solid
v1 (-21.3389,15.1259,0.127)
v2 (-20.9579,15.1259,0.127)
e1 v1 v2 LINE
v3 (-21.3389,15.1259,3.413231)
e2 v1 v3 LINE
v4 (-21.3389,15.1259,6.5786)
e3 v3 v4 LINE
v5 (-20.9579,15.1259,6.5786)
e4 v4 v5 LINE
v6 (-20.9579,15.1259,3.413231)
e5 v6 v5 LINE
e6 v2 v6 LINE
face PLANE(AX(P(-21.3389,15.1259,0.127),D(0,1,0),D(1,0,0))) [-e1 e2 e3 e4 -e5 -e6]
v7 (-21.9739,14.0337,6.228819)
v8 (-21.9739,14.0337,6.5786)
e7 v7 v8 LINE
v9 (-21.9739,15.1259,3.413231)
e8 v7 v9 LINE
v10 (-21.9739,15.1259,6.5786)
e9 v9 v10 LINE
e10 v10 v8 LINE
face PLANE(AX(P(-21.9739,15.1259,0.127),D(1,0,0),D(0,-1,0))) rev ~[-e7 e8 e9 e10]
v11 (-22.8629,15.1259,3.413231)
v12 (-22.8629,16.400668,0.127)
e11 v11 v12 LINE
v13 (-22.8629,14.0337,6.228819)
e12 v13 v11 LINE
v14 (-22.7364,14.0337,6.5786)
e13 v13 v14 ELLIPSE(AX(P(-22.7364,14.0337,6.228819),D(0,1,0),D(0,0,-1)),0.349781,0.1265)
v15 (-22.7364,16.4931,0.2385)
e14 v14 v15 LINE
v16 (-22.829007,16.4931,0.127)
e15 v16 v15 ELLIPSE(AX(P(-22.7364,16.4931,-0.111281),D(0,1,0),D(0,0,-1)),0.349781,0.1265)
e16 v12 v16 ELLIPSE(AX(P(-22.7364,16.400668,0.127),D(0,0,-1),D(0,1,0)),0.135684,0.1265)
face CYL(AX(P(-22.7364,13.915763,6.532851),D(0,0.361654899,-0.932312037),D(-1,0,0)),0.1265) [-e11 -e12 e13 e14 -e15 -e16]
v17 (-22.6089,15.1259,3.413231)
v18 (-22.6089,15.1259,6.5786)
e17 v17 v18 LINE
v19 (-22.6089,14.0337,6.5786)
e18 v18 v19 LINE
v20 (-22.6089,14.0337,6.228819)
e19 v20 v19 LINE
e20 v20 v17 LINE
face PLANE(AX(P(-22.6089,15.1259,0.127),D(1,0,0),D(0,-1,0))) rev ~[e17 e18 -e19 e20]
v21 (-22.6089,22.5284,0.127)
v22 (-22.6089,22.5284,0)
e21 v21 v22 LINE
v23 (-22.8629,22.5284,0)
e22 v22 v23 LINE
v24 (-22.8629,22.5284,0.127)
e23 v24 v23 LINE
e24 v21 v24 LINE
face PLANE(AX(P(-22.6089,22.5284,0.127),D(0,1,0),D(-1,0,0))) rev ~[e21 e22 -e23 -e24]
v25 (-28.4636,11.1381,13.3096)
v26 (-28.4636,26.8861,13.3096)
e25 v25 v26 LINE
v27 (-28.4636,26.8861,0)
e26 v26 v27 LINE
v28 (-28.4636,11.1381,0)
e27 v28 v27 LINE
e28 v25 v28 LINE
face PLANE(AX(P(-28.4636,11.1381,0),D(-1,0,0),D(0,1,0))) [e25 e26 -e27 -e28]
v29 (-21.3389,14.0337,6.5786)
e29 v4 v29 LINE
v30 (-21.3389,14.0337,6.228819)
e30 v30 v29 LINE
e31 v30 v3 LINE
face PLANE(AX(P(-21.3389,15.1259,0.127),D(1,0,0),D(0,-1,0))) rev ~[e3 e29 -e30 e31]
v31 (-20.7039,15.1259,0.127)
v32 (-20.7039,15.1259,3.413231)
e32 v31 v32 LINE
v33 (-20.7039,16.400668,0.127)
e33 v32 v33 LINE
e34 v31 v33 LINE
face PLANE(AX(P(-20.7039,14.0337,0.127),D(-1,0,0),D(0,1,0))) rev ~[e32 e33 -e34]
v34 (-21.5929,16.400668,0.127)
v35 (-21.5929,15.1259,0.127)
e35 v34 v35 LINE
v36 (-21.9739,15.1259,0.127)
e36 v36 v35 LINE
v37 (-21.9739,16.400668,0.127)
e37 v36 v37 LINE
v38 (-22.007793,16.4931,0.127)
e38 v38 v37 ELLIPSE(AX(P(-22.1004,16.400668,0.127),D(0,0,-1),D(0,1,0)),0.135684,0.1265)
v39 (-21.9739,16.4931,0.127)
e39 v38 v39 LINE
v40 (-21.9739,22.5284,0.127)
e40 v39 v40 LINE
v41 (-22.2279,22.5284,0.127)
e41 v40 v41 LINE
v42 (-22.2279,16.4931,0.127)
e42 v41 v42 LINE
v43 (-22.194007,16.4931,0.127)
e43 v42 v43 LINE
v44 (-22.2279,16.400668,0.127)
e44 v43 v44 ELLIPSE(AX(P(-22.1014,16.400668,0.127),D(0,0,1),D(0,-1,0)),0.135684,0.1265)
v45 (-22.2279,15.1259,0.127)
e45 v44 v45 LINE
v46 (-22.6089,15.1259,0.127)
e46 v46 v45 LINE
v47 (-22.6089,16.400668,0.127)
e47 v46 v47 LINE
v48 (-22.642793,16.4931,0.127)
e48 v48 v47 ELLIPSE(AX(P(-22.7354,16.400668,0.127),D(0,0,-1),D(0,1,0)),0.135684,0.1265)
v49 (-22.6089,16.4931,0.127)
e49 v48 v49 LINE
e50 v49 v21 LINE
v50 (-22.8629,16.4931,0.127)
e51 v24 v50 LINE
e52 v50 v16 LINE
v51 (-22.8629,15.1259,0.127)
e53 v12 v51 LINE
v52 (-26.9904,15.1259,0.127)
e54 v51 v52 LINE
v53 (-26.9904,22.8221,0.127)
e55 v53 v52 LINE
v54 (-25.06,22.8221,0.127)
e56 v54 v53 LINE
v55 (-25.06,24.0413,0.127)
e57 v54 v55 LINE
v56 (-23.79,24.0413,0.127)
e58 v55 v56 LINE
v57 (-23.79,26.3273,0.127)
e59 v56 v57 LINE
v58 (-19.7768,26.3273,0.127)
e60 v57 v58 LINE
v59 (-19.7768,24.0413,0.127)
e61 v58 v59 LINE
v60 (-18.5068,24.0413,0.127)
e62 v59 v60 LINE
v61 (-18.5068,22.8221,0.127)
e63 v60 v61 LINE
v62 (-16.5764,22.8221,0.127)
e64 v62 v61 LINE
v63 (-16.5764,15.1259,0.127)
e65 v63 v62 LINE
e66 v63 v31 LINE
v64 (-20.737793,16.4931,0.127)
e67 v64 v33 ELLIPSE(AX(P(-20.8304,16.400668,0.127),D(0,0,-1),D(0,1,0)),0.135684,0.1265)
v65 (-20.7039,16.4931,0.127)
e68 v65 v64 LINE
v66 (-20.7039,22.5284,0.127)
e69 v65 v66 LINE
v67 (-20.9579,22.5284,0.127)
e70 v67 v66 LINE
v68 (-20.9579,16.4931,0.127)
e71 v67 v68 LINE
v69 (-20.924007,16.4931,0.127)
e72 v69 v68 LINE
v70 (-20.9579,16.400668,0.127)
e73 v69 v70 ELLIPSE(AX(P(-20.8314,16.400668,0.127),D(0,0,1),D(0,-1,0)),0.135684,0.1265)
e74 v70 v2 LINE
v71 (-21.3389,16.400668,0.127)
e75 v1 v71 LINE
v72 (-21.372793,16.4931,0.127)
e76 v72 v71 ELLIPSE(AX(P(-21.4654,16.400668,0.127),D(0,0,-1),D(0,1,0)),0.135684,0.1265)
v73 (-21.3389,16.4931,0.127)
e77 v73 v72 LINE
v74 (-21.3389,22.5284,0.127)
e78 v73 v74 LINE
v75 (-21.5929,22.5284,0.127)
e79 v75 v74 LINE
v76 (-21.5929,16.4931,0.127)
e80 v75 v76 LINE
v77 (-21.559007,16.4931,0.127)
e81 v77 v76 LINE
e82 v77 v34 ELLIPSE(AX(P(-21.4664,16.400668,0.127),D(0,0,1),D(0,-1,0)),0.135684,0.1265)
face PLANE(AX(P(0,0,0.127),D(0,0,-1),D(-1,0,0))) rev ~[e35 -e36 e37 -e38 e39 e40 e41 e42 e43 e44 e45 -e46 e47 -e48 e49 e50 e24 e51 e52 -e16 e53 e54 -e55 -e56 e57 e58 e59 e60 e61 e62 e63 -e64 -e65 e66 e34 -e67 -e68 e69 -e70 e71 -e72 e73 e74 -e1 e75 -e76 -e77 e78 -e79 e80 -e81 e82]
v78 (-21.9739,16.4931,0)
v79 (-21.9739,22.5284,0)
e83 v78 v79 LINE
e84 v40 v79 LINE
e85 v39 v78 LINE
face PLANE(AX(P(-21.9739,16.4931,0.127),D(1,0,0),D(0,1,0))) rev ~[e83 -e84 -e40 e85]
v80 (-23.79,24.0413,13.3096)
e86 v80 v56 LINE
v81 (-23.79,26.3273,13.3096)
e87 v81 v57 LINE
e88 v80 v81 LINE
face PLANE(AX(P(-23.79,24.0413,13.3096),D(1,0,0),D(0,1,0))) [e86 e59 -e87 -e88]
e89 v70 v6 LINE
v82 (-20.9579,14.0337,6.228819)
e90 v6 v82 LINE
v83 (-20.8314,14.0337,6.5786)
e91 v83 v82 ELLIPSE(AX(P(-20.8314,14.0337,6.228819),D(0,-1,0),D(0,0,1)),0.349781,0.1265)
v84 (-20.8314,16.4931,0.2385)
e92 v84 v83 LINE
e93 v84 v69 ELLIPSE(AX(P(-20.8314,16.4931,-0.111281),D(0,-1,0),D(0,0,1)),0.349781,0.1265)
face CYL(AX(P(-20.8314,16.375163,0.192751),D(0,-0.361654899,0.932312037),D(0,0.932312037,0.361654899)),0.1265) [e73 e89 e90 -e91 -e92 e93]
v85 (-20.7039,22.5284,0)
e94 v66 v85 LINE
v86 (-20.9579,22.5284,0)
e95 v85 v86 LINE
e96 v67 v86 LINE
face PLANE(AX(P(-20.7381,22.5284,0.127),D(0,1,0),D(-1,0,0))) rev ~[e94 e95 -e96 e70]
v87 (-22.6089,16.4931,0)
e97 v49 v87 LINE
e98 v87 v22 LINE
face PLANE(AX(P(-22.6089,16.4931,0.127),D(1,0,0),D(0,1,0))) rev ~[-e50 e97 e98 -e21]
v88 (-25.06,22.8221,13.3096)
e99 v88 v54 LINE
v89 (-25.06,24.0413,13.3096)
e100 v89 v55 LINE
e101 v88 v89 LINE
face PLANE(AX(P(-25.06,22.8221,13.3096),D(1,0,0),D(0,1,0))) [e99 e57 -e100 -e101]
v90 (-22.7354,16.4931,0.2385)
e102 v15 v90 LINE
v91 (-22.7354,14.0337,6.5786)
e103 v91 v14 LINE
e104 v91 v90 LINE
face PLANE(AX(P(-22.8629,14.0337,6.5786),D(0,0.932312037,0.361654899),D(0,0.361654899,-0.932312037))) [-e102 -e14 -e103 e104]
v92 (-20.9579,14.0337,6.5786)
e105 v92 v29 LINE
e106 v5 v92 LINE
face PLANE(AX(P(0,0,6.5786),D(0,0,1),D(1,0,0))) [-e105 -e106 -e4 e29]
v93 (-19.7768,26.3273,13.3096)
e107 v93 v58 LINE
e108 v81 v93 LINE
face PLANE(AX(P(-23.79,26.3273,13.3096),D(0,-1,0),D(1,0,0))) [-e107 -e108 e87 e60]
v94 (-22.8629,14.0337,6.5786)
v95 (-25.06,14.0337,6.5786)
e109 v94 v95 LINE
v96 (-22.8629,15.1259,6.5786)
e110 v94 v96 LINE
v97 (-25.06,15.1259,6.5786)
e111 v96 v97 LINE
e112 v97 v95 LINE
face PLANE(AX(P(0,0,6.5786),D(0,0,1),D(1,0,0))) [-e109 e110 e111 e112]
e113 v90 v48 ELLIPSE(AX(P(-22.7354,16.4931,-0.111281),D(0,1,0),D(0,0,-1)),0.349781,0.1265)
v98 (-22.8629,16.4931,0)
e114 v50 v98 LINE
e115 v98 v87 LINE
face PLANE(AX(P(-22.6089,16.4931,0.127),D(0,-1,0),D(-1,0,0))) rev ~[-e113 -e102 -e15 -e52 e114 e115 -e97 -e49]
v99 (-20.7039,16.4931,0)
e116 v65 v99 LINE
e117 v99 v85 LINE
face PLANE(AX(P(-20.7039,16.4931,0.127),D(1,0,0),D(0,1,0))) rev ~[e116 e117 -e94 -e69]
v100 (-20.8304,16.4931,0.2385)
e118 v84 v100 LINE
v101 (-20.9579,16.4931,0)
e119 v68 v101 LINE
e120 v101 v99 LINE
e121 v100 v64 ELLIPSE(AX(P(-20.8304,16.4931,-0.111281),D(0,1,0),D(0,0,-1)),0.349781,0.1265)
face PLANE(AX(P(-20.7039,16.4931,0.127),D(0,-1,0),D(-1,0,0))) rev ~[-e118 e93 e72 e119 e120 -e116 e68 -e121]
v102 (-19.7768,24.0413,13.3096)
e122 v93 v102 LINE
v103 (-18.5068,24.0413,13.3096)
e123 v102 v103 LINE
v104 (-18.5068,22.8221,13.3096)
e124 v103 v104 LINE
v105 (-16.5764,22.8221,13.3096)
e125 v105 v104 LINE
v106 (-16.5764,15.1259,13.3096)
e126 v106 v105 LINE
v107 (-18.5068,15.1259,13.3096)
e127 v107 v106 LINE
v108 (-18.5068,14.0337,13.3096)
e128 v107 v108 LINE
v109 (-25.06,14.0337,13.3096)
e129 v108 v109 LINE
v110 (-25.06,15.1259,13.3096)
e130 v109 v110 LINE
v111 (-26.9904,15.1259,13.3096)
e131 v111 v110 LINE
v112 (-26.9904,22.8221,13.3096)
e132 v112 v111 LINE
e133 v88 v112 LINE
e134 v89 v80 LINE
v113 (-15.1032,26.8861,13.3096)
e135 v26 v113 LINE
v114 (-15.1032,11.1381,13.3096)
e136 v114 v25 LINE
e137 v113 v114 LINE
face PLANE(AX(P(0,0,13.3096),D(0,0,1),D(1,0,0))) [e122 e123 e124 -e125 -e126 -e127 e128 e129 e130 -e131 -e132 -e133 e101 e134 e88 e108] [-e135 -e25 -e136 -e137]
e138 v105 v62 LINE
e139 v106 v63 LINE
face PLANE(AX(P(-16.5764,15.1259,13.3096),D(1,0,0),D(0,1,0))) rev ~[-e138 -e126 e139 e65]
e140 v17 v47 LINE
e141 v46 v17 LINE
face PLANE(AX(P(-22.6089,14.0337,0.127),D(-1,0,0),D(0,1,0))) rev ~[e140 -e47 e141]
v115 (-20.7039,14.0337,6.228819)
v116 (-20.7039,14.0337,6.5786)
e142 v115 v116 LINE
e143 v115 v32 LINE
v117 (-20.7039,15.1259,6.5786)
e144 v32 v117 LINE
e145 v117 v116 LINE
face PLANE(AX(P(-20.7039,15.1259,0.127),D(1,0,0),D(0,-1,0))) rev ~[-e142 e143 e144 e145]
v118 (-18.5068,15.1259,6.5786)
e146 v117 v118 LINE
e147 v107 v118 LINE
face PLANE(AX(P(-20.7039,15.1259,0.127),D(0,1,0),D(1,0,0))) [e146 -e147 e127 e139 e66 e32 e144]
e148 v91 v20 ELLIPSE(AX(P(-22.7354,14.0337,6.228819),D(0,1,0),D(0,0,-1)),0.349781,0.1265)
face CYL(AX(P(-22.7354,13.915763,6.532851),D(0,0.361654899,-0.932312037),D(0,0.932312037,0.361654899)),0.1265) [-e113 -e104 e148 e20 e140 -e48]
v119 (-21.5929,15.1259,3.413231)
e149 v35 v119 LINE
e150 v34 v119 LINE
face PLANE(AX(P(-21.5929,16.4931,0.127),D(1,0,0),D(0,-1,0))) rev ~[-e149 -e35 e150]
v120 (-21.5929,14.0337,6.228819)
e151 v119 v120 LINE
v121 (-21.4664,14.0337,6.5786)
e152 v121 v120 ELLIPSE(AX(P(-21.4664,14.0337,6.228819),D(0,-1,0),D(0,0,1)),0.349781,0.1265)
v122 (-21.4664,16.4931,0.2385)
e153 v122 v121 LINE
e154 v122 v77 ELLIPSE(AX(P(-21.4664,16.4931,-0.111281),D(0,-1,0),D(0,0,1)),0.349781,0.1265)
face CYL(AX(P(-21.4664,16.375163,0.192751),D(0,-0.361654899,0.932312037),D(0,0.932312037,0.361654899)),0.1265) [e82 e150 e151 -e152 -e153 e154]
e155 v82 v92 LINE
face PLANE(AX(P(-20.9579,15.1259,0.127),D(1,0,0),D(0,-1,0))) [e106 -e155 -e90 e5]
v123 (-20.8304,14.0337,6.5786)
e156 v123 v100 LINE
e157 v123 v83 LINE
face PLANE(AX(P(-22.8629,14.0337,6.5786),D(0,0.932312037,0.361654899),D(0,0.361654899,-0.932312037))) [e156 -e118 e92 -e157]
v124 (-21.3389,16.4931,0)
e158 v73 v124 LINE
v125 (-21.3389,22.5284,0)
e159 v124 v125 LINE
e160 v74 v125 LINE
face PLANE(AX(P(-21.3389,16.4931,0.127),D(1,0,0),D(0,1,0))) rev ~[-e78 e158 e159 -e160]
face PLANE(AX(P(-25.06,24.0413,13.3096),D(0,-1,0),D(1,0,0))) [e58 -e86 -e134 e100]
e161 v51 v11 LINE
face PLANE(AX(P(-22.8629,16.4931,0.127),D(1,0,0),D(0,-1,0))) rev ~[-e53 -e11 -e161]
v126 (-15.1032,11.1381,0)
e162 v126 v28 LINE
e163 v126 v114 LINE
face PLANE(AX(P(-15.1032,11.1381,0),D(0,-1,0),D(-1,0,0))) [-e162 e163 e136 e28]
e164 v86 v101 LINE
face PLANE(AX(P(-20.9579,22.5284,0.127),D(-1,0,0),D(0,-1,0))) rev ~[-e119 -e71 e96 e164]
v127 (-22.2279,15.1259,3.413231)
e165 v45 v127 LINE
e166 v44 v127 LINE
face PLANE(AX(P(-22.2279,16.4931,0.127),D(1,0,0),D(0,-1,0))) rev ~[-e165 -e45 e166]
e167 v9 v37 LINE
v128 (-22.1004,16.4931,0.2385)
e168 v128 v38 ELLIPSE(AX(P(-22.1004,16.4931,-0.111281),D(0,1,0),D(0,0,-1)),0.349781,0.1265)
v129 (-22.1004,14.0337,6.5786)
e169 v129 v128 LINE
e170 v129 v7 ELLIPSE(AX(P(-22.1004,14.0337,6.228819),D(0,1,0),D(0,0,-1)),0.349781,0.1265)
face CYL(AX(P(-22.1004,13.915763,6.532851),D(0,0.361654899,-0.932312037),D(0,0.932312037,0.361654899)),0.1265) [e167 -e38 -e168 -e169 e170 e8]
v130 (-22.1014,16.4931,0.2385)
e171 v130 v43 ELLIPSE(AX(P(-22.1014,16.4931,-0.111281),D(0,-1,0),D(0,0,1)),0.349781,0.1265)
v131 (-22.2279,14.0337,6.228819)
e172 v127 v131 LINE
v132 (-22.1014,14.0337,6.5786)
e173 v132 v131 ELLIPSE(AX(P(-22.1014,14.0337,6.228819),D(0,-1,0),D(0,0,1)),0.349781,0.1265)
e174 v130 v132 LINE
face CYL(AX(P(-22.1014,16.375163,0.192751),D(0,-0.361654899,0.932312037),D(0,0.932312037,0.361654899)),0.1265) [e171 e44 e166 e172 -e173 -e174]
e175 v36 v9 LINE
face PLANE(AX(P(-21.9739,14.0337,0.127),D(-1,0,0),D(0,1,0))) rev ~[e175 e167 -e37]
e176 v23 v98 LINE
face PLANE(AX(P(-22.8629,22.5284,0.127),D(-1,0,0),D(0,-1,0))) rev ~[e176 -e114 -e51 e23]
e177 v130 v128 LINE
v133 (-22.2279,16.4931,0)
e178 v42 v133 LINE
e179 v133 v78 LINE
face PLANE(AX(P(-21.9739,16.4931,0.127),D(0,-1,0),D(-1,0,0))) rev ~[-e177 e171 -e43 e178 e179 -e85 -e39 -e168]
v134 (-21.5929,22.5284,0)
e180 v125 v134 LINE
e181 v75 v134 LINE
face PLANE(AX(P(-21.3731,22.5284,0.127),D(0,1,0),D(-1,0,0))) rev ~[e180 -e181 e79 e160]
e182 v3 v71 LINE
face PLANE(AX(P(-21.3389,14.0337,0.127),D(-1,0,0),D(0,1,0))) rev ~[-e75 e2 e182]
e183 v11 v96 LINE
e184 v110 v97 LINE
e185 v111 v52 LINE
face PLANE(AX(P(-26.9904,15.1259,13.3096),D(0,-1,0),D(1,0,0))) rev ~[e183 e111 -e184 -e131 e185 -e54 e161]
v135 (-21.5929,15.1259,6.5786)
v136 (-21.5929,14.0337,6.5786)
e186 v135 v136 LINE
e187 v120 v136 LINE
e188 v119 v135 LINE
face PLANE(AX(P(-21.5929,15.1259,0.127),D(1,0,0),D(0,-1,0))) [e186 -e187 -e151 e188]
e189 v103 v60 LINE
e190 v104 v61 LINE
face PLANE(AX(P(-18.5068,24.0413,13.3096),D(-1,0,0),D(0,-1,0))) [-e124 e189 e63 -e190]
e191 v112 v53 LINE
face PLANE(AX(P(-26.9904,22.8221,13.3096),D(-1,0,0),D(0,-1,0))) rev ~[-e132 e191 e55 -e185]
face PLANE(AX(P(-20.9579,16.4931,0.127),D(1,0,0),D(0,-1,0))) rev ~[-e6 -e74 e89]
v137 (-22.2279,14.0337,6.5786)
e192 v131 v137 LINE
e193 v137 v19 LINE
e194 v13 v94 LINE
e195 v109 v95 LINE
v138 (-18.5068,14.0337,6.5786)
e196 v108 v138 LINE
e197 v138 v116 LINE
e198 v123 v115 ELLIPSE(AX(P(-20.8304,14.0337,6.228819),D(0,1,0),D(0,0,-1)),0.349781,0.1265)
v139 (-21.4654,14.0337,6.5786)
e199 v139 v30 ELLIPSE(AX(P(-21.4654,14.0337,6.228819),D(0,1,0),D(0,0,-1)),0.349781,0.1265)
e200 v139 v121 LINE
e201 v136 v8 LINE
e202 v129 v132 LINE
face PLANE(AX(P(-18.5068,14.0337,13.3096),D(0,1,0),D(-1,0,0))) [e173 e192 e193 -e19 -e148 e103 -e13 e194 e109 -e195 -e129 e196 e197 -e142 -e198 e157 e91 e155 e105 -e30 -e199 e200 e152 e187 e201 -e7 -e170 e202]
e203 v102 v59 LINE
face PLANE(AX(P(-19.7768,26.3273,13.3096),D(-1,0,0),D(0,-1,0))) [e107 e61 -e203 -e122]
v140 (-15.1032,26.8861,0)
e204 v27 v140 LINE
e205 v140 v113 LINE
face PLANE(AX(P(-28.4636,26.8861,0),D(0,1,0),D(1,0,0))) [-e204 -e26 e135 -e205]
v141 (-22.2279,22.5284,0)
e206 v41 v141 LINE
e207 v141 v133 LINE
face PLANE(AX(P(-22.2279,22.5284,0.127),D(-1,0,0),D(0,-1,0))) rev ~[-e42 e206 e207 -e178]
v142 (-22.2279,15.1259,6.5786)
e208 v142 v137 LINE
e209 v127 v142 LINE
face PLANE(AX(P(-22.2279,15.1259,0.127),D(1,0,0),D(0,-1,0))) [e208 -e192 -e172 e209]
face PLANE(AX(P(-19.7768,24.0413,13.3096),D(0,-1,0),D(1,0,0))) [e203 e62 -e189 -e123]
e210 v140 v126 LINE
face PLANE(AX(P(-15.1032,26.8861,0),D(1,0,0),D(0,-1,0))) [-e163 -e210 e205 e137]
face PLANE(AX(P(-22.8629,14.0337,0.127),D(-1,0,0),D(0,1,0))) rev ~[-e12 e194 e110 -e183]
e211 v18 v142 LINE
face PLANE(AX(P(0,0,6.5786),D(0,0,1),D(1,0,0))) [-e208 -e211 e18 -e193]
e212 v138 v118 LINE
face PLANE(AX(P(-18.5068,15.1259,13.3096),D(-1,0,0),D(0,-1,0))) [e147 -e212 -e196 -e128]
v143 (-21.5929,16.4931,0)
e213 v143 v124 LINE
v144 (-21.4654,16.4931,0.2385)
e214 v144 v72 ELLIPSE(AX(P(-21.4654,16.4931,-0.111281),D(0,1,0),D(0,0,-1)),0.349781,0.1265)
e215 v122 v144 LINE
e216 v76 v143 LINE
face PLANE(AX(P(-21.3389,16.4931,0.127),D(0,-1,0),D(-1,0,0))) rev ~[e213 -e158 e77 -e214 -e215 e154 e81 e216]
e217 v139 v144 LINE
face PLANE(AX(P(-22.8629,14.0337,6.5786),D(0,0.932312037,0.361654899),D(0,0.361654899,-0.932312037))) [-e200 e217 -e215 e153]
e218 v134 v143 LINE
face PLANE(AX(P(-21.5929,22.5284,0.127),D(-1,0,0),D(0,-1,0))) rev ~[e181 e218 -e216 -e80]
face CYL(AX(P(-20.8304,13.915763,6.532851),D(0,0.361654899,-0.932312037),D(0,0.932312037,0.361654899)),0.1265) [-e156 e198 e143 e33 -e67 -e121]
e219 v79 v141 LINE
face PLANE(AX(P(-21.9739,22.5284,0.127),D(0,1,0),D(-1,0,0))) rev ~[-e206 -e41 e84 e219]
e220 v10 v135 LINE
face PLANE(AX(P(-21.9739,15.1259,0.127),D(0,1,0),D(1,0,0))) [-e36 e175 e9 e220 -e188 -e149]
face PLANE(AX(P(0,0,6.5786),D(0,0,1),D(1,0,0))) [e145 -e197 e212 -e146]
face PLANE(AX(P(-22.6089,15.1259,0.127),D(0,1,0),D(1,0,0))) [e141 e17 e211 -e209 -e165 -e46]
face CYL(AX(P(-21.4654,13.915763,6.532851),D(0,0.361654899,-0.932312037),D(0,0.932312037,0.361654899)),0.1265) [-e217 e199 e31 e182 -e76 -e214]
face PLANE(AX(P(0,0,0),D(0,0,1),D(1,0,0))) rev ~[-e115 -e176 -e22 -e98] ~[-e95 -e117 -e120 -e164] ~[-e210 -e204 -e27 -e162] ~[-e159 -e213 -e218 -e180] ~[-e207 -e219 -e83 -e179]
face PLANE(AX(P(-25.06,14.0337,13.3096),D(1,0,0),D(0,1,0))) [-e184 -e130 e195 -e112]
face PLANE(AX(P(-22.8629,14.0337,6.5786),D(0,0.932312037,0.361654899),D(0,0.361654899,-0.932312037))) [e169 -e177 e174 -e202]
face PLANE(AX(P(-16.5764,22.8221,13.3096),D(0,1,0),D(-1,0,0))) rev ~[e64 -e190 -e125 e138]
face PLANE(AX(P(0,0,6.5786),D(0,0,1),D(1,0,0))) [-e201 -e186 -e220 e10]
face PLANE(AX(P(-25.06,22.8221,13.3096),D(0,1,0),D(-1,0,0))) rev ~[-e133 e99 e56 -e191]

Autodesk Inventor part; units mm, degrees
ref_plane "YZ Plane" through (0, 0, 0) normal (1, 0, 0) x (0, 1, 0)
ref_plane "XZ Plane" through (0, 0, 0) normal (0, 1, 0) x (-1, 0, 0)
ref_plane "XY Plane" through (0, 0, 0) normal (0, 0, 1) x (1, 0, 0)
sketch "Sketch1" plane through (0, 0, 0) normal (0, 0, 1) x (1, 0, 0)
  line L0 (-15.1032, 11.1381) -> (-28.4636, 11.1381)
  line L1 (-28.4636, 11.1381) -> (-28.4636, 26.8861)
  line L2 (-28.4636, 26.8861) -> (-15.1032, 26.8861)
  line L3 (-15.1032, 26.8861) -> (-15.1032, 11.1381)
  dimension "d0" = 13.3604
  dimension "d1" = 15.748
extrude "Extrusion1" add sketch "Sketch1" along normal blind 13.3096
sketch "Sketch2" plane through (0, 0, 13.3096) normal (0, 0, 1) x (1, 0, 0)
  line L0 (-28.4636, 11.1381) -> (-28.4636, 26.8861) projected
  line L1 (-15.1032, 11.1381) -> (-28.4636, 11.1381) projected
  line L2 (-15.1032, 26.8861) -> (-15.1032, 11.1381) projected
  line L3 (-28.4636, 26.8861) -> (-15.1032, 26.8861) projected
  line L4 (-23.79, 26.3273) -> (-19.7768, 26.3273)
  line L5 (-19.7768, 26.3273) -> (-19.7768, 24.0413)
  line L6 (-19.7768, 24.0413) -> (-23.79, 24.0413)
  line L7 (-23.79, 24.0413) -> (-23.79, 26.3273)
  line L8 (-25.06, 24.0413) -> (-18.5068, 24.0413)
  line L9 (-18.5068, 24.0413) -> (-18.5068, 22.8221)
  line L10 (-18.5068, 22.8221) -> (-25.06, 22.8221)
  line L11 (-25.06, 22.8221) -> (-25.06, 24.0413)
  line L12 (-16.5764, 22.8221) -> (-26.9904, 22.8221)
  line L13 (-26.9904, 22.8221) -> (-26.9904, 15.1259)
  line L14 (-26.9904, 15.1259) -> (-16.5764, 15.1259)
  line L15 (-16.5764, 15.1259) -> (-16.5764, 22.8221)
  line L16 (-25.06, 15.1259) -> (-18.5068, 15.1259)
  line L17 (-18.5068, 15.1259) -> (-18.5068, 14.0337)
  line L18 (-18.5068, 14.0337) -> (-25.06, 14.0337)
  line L19 (-25.06, 14.0337) -> (-25.06, 15.1259)
  dimension "d4" = 0.5588
  dimension "d5" = 4.6736
  dimension "d6" = 4.6736
  dimension "d7" = 2.286
  dimension "d9" = 1.27
  dimension "d10" = 1.27
  dimension "d11" = 1.2192
  dimension "d13" = 6.5532
  dimension "d14" = 1.9304
  dimension "d15" = 1.9304
  dimension "d16" = 10.414
  dimension "d17" = 7.6962
  dimension "d18" = 1.9304
  dimension "d19" = 1.9304
  dimension "d20" = 1.0922
  dimension "d21" = 2.8956
extrude "Extrusion2" cut sketch "Sketch2" against normal blind 14.1478 contours L4 L5 L6 L7 | L6 L8 L9 L10 L11 | L10 L12 L15 L14 L13 | L14 L17 L18 L19
sketch "Sketch3" plane through (0, 0, 0) normal (0, 0, -1) x (-1, 0, 0)
  line L0 (15.1032, 11.1381) -> (28.4636, 11.1381) projected
  line L1 (28.4636, 11.1381) -> (28.4636, 26.8861) projected
  line L2 (28.4636, 26.8861) -> (15.1032, 26.8861) projected
  line L3 (15.1032, 26.8861) -> (15.1032, 11.1381) projected
extrude "Extrusion3" add sketch "Sketch3" against normal blind 0.127
sketch "Sketch4" plane through (0, 0, 0.127) normal (0, 0, 1) x (1, 0, 0)
  line L0 (-25.06, 14.0337) -> (-25.06, 15.1259) projected
  line L1 (-18.5068, 14.0337) -> (-25.06, 14.0337) projected
  line L2 (-18.5068, 15.1259) -> (-18.5068, 14.0337) projected
  line L3 (-22.8629, 14.0337) -> (-22.6089, 14.0337)
  line L4 (-22.6089, 14.0337) -> (-22.6089, 16.4931)
  line L5 (-22.6089, 16.4931) -> (-22.8629, 16.4931)
  line L6 (-22.8629, 16.4931) -> (-22.8629, 14.0337)
  line L7 (-22.2279, 14.0337) -> (-21.9739, 14.0337)
  line L8 (-21.9739, 14.0337) -> (-21.9739, 16.4931)
  line L9 (-21.9739, 16.4931) -> (-22.2279, 16.4931)
  line L10 (-22.2279, 16.4931) -> (-22.2279, 14.0337)
  line L11 (-21.5929, 14.0337) -> (-21.3389, 14.0337)
  line L12 (-21.3389, 14.0337) -> (-21.3389, 16.4931)
  line L13 (-21.3389, 16.4931) -> (-21.5929, 16.4931)
  line L14 (-21.5929, 16.4931) -> (-21.5929, 14.0337)
  line L15 (-20.9579, 14.0337) -> (-20.7039, 14.0337)
  line L16 (-20.7039, 14.0337) -> (-20.7039, 16.4931)
  line L17 (-20.7039, 16.4931) -> (-20.9579, 16.4931)
  line L18 (-20.9579, 16.4931) -> (-20.9579, 14.0337)
  dimension "d26" = 0.254
  dimension "d27" = 0.254
  dimension "d28" = 0.254
  dimension "d29" = 0.254
  dimension "d30" = 0.381
  dimension "d31" = 0.381
  dimension "d32" = 0.381
  dimension "d33" = 2.1971
  dimension "d34" = 2.1971
extrude "Extrusion4" add sketch "Sketch4" along normal blind 6.4516
sketch "Sketch5" plane through (-22.8629, 14.0337, 0.127) normal (-1, 0, 0) x (0, 0, 1)
  line L0 (6.4516, 0) -> (6.4516, 2.4594) projected
  line L1 (0, 2.4594) -> (6.4516, 2.4594) projected
  line L2 (6.4516, 0) -> (0.1115, 2.4594)
extrude "Extrusion5" cut sketch "Sketch5" against normal blind 3.81
fillet "Fillet1" radius 0.127 8 edges at (-22.8629, 15.2634, 3.4085) (-22.6089, 15.2634, 3.4085) (-21.9739, 15.2634, 3.4085) (-22.2279, 15.2634, 3.4085) (-21.5929, 15.2634, 3.4085) (-21.3389, 15.2634, 3.4085) (-20.9579, 15.2634, 3.4085) (-20.7039, 15.2634, 3.4085)
sketch "Sketch6" plane through (0, 0, 0.127) normal (0, 0, 1) x (1, 0, 0)
  line L0 (-22.6089, 16.4001) -> (-22.6089, 14.0337) projected
  line L1 (-21.9739, 16.4001) -> (-21.9739, 14.0337) projected
  line L2 (-21.3389, 16.4001) -> (-21.3389, 14.0337) projected
  line L3 (-20.7039, 16.4001) -> (-20.7039, 14.0337) projected
  line L4 (-18.5068, 14.0337) -> (-20.7039, 14.0337) projected
  line L5 (-22.8629, 14.0337) -> (-25.06, 14.0337) projected
  line L6 (-22.8629, 14.0337) -> (-22.8629, 16.4001) projected
  line L7 (-25.0727, 14.0337) -> (-22.8629, 14.0337)
  line L8 (-22.8629, 14.0337) -> (-22.8629, 15.1259)
  line L9 (-22.8629, 15.1259) -> (-25.0727, 15.1259)
  line L10 (-25.0727, 15.1259) -> (-25.0727, 14.0337)
  line L11 (-22.6089, 15.1259) -> (-22.2279, 15.1259)
  line L12 (-22.2279, 15.1259) -> (-22.2279, 14.0337)
  line L13 (-22.2279, 14.0337) -> (-22.6089, 14.0337)
  line L14 (-22.6089, 14.0337) -> (-22.6089, 15.1259)
  line L15 (-21.9739, 15.1259) -> (-21.5929, 15.1259)
  line L16 (-21.5929, 15.1259) -> (-21.5929, 14.0337)
  line L17 (-21.5929, 14.0337) -> (-21.9739, 14.0337)
  line L18 (-21.9739, 14.0337) -> (-21.9739, 15.1259)
  line L19 (-21.3389, 15.1259) -> (-20.9579, 15.1259)
  line L20 (-20.9579, 15.1259) -> (-20.9579, 14.0337)
  line L21 (-20.9579, 14.0337) -> (-21.3389, 14.0337)
  line L22 (-21.3389, 14.0337) -> (-21.3389, 15.1259)
  line L23 (-20.7039, 15.1259) -> (-18.4941, 15.1259)
  line L24 (-18.4941, 15.1259) -> (-18.4941, 14.0337)
  line L25 (-18.4941, 14.0337) -> (-20.7039, 14.0337)
  line L26 (-20.7039, 14.0337) -> (-20.7039, 15.1259)
  line L27 (-22.8629, 14.0337) -> (-25.0727, 14.0337)
  line L28 (-25.0727, 14.0337) -> (-25.0727, 15.1259)
  line L29 (-25.0727, 15.1259) -> (-22.8629, 15.1259)
  line L30 (-22.8629, 15.1259) -> (-22.8629, 14.0337)
  line L31 (-20.7039, 15.1259) -> (-18.4941, 15.1259)
  line L32 (-18.4941, 15.1259) -> (-18.4941, 14.0337)
  line L33 (-18.4941, 14.0337) -> (-20.7039, 14.0337)
  line L34 (-20.7039, 14.0337) -> (-20.7039, 15.1259)
  point P0 (-25.06, 15.1259)
  dimension "d40" = 1.0922
  dimension "d41" = 1.0922
  dimension "d42" = 0
  dimension "d43" = 0
  dimension "d44" = 0
  dimension "d45" = 0
  dimension "d46" = 2.2098
  dimension "d47" = 2.2098
extrude "Extrusion6" add sketch "Sketch6" along normal blind 6.4516
sketch "Sketch7" plane through (0, 0, 0.127) normal (0, 0, 1) x (1, 0, 0)
  line L0 (-22.8629, 15.1259) -> (-22.6089, 15.1259)
  line L1 (-22.6089, 15.1259) -> (-22.6089, 22.5284)
  line L2 (-22.6089, 22.5284) -> (-22.8629, 22.5284)
  line L3 (-22.8629, 22.5284) -> (-22.8629, 15.1259)
  line L4 (-22.2279, 15.1259) -> (-21.9739, 15.1259)
  line L5 (-21.9739, 15.1259) -> (-21.9739, 22.5284)
  line L6 (-21.9739, 22.5284) -> (-22.2279, 22.5284)
  line L7 (-22.2279, 22.5284) -> (-22.2279, 15.1259)
  line L8 (-21.5929, 15.1259) -> (-21.3389, 15.1259)
  line L9 (-21.3389, 15.1259) -> (-21.3389, 22.5284)
  line L10 (-21.3389, 22.5284) -> (-21.5929, 22.5284)
  line L11 (-21.5929, 22.5284) -> (-21.5929, 15.1259)
  line L12 (-20.9579, 15.1259) -> (-20.7039, 15.1259)
  line L13 (-20.7039, 15.1259) -> (-20.7039, 22.5284)
  line L14 (-20.7039, 22.5284) -> (-20.9579, 22.5284)
  line L15 (-20.9579, 22.5284) -> (-20.9579, 15.1259)
  line L16 (-22.9407, 16.4931) -> (-20.3193, 16.4931)
  line L17 (-20.7381, 16.4931) -> (-20.9579, 16.4931)
  line L18 (-20.9579, 16.4931) -> (-20.9579, 22.5284)
  line L19 (-20.9579, 22.5284) -> (-20.7381, 22.5284)
  line L20 (-21.5929, 22.5284) -> (-21.3731, 22.5284)
  line L21 (-21.3731, 16.4931) -> (-21.5929, 16.4931)
  line L22 (-21.5929, 16.4931) -> (-21.5929, 22.5284)
  line L23 (-20.7039, 16.4931) -> (-20.9579, 16.4931)
  line L24 (-20.9579, 16.4931) -> (-20.9579, 22.5284)
  line L25 (-20.9579, 22.5284) -> (-20.7039, 22.5284)
  line L26 (-20.7039, 22.5284) -> (-20.7039, 16.4931)
  line L27 (-21.5929, 22.5284) -> (-21.3389, 22.5284)
  line L28 (-21.3389, 22.5284) -> (-21.3389, 16.4931)
  line L29 (-21.3389, 16.4931) -> (-21.5929, 16.4931)
  line L30 (-21.5929, 16.4931) -> (-21.5929, 22.5284)
  line L31 (-21.9739, 16.4931) -> (-22.2279, 16.4931)
  line L32 (-22.2279, 16.4931) -> (-22.2279, 22.5284)
  line L33 (-22.2279, 22.5284) -> (-21.9739, 22.5284)
  line L34 (-21.9739, 22.5284) -> (-21.9739, 16.4931)
  line L35 (-22.8629, 22.5284) -> (-22.6089, 22.5284)
  line L36 (-22.6089, 22.5284) -> (-22.6089, 16.4931)
  line L37 (-22.6089, 16.4931) -> (-22.8629, 16.4931)
  line L38 (-22.8629, 16.4931) -> (-22.8629, 22.5284)
extrude "Extrusion7" cut sketch "Sketch7" against normal blind 127 contours L15 L14 L13 L16 | L11 L10 L9 L16 | L7 L6 L5 L16 | L3 L2 L1 L16
equation "\"d6\" = d5"
equation "\"d10\" = d9"
equation "\"d15\" = d14"
equation "\"d27\" = d26"
equation "\"d28\" = d27"
equation "\"d29\" = d28"
equation "\"d31\" = d30"
equation "\"d32\" = d31"
equation "\"d40\" = d41"
equation "\"d47\" = d46"
properties part number "2009_CTS_EatherNetPort"
